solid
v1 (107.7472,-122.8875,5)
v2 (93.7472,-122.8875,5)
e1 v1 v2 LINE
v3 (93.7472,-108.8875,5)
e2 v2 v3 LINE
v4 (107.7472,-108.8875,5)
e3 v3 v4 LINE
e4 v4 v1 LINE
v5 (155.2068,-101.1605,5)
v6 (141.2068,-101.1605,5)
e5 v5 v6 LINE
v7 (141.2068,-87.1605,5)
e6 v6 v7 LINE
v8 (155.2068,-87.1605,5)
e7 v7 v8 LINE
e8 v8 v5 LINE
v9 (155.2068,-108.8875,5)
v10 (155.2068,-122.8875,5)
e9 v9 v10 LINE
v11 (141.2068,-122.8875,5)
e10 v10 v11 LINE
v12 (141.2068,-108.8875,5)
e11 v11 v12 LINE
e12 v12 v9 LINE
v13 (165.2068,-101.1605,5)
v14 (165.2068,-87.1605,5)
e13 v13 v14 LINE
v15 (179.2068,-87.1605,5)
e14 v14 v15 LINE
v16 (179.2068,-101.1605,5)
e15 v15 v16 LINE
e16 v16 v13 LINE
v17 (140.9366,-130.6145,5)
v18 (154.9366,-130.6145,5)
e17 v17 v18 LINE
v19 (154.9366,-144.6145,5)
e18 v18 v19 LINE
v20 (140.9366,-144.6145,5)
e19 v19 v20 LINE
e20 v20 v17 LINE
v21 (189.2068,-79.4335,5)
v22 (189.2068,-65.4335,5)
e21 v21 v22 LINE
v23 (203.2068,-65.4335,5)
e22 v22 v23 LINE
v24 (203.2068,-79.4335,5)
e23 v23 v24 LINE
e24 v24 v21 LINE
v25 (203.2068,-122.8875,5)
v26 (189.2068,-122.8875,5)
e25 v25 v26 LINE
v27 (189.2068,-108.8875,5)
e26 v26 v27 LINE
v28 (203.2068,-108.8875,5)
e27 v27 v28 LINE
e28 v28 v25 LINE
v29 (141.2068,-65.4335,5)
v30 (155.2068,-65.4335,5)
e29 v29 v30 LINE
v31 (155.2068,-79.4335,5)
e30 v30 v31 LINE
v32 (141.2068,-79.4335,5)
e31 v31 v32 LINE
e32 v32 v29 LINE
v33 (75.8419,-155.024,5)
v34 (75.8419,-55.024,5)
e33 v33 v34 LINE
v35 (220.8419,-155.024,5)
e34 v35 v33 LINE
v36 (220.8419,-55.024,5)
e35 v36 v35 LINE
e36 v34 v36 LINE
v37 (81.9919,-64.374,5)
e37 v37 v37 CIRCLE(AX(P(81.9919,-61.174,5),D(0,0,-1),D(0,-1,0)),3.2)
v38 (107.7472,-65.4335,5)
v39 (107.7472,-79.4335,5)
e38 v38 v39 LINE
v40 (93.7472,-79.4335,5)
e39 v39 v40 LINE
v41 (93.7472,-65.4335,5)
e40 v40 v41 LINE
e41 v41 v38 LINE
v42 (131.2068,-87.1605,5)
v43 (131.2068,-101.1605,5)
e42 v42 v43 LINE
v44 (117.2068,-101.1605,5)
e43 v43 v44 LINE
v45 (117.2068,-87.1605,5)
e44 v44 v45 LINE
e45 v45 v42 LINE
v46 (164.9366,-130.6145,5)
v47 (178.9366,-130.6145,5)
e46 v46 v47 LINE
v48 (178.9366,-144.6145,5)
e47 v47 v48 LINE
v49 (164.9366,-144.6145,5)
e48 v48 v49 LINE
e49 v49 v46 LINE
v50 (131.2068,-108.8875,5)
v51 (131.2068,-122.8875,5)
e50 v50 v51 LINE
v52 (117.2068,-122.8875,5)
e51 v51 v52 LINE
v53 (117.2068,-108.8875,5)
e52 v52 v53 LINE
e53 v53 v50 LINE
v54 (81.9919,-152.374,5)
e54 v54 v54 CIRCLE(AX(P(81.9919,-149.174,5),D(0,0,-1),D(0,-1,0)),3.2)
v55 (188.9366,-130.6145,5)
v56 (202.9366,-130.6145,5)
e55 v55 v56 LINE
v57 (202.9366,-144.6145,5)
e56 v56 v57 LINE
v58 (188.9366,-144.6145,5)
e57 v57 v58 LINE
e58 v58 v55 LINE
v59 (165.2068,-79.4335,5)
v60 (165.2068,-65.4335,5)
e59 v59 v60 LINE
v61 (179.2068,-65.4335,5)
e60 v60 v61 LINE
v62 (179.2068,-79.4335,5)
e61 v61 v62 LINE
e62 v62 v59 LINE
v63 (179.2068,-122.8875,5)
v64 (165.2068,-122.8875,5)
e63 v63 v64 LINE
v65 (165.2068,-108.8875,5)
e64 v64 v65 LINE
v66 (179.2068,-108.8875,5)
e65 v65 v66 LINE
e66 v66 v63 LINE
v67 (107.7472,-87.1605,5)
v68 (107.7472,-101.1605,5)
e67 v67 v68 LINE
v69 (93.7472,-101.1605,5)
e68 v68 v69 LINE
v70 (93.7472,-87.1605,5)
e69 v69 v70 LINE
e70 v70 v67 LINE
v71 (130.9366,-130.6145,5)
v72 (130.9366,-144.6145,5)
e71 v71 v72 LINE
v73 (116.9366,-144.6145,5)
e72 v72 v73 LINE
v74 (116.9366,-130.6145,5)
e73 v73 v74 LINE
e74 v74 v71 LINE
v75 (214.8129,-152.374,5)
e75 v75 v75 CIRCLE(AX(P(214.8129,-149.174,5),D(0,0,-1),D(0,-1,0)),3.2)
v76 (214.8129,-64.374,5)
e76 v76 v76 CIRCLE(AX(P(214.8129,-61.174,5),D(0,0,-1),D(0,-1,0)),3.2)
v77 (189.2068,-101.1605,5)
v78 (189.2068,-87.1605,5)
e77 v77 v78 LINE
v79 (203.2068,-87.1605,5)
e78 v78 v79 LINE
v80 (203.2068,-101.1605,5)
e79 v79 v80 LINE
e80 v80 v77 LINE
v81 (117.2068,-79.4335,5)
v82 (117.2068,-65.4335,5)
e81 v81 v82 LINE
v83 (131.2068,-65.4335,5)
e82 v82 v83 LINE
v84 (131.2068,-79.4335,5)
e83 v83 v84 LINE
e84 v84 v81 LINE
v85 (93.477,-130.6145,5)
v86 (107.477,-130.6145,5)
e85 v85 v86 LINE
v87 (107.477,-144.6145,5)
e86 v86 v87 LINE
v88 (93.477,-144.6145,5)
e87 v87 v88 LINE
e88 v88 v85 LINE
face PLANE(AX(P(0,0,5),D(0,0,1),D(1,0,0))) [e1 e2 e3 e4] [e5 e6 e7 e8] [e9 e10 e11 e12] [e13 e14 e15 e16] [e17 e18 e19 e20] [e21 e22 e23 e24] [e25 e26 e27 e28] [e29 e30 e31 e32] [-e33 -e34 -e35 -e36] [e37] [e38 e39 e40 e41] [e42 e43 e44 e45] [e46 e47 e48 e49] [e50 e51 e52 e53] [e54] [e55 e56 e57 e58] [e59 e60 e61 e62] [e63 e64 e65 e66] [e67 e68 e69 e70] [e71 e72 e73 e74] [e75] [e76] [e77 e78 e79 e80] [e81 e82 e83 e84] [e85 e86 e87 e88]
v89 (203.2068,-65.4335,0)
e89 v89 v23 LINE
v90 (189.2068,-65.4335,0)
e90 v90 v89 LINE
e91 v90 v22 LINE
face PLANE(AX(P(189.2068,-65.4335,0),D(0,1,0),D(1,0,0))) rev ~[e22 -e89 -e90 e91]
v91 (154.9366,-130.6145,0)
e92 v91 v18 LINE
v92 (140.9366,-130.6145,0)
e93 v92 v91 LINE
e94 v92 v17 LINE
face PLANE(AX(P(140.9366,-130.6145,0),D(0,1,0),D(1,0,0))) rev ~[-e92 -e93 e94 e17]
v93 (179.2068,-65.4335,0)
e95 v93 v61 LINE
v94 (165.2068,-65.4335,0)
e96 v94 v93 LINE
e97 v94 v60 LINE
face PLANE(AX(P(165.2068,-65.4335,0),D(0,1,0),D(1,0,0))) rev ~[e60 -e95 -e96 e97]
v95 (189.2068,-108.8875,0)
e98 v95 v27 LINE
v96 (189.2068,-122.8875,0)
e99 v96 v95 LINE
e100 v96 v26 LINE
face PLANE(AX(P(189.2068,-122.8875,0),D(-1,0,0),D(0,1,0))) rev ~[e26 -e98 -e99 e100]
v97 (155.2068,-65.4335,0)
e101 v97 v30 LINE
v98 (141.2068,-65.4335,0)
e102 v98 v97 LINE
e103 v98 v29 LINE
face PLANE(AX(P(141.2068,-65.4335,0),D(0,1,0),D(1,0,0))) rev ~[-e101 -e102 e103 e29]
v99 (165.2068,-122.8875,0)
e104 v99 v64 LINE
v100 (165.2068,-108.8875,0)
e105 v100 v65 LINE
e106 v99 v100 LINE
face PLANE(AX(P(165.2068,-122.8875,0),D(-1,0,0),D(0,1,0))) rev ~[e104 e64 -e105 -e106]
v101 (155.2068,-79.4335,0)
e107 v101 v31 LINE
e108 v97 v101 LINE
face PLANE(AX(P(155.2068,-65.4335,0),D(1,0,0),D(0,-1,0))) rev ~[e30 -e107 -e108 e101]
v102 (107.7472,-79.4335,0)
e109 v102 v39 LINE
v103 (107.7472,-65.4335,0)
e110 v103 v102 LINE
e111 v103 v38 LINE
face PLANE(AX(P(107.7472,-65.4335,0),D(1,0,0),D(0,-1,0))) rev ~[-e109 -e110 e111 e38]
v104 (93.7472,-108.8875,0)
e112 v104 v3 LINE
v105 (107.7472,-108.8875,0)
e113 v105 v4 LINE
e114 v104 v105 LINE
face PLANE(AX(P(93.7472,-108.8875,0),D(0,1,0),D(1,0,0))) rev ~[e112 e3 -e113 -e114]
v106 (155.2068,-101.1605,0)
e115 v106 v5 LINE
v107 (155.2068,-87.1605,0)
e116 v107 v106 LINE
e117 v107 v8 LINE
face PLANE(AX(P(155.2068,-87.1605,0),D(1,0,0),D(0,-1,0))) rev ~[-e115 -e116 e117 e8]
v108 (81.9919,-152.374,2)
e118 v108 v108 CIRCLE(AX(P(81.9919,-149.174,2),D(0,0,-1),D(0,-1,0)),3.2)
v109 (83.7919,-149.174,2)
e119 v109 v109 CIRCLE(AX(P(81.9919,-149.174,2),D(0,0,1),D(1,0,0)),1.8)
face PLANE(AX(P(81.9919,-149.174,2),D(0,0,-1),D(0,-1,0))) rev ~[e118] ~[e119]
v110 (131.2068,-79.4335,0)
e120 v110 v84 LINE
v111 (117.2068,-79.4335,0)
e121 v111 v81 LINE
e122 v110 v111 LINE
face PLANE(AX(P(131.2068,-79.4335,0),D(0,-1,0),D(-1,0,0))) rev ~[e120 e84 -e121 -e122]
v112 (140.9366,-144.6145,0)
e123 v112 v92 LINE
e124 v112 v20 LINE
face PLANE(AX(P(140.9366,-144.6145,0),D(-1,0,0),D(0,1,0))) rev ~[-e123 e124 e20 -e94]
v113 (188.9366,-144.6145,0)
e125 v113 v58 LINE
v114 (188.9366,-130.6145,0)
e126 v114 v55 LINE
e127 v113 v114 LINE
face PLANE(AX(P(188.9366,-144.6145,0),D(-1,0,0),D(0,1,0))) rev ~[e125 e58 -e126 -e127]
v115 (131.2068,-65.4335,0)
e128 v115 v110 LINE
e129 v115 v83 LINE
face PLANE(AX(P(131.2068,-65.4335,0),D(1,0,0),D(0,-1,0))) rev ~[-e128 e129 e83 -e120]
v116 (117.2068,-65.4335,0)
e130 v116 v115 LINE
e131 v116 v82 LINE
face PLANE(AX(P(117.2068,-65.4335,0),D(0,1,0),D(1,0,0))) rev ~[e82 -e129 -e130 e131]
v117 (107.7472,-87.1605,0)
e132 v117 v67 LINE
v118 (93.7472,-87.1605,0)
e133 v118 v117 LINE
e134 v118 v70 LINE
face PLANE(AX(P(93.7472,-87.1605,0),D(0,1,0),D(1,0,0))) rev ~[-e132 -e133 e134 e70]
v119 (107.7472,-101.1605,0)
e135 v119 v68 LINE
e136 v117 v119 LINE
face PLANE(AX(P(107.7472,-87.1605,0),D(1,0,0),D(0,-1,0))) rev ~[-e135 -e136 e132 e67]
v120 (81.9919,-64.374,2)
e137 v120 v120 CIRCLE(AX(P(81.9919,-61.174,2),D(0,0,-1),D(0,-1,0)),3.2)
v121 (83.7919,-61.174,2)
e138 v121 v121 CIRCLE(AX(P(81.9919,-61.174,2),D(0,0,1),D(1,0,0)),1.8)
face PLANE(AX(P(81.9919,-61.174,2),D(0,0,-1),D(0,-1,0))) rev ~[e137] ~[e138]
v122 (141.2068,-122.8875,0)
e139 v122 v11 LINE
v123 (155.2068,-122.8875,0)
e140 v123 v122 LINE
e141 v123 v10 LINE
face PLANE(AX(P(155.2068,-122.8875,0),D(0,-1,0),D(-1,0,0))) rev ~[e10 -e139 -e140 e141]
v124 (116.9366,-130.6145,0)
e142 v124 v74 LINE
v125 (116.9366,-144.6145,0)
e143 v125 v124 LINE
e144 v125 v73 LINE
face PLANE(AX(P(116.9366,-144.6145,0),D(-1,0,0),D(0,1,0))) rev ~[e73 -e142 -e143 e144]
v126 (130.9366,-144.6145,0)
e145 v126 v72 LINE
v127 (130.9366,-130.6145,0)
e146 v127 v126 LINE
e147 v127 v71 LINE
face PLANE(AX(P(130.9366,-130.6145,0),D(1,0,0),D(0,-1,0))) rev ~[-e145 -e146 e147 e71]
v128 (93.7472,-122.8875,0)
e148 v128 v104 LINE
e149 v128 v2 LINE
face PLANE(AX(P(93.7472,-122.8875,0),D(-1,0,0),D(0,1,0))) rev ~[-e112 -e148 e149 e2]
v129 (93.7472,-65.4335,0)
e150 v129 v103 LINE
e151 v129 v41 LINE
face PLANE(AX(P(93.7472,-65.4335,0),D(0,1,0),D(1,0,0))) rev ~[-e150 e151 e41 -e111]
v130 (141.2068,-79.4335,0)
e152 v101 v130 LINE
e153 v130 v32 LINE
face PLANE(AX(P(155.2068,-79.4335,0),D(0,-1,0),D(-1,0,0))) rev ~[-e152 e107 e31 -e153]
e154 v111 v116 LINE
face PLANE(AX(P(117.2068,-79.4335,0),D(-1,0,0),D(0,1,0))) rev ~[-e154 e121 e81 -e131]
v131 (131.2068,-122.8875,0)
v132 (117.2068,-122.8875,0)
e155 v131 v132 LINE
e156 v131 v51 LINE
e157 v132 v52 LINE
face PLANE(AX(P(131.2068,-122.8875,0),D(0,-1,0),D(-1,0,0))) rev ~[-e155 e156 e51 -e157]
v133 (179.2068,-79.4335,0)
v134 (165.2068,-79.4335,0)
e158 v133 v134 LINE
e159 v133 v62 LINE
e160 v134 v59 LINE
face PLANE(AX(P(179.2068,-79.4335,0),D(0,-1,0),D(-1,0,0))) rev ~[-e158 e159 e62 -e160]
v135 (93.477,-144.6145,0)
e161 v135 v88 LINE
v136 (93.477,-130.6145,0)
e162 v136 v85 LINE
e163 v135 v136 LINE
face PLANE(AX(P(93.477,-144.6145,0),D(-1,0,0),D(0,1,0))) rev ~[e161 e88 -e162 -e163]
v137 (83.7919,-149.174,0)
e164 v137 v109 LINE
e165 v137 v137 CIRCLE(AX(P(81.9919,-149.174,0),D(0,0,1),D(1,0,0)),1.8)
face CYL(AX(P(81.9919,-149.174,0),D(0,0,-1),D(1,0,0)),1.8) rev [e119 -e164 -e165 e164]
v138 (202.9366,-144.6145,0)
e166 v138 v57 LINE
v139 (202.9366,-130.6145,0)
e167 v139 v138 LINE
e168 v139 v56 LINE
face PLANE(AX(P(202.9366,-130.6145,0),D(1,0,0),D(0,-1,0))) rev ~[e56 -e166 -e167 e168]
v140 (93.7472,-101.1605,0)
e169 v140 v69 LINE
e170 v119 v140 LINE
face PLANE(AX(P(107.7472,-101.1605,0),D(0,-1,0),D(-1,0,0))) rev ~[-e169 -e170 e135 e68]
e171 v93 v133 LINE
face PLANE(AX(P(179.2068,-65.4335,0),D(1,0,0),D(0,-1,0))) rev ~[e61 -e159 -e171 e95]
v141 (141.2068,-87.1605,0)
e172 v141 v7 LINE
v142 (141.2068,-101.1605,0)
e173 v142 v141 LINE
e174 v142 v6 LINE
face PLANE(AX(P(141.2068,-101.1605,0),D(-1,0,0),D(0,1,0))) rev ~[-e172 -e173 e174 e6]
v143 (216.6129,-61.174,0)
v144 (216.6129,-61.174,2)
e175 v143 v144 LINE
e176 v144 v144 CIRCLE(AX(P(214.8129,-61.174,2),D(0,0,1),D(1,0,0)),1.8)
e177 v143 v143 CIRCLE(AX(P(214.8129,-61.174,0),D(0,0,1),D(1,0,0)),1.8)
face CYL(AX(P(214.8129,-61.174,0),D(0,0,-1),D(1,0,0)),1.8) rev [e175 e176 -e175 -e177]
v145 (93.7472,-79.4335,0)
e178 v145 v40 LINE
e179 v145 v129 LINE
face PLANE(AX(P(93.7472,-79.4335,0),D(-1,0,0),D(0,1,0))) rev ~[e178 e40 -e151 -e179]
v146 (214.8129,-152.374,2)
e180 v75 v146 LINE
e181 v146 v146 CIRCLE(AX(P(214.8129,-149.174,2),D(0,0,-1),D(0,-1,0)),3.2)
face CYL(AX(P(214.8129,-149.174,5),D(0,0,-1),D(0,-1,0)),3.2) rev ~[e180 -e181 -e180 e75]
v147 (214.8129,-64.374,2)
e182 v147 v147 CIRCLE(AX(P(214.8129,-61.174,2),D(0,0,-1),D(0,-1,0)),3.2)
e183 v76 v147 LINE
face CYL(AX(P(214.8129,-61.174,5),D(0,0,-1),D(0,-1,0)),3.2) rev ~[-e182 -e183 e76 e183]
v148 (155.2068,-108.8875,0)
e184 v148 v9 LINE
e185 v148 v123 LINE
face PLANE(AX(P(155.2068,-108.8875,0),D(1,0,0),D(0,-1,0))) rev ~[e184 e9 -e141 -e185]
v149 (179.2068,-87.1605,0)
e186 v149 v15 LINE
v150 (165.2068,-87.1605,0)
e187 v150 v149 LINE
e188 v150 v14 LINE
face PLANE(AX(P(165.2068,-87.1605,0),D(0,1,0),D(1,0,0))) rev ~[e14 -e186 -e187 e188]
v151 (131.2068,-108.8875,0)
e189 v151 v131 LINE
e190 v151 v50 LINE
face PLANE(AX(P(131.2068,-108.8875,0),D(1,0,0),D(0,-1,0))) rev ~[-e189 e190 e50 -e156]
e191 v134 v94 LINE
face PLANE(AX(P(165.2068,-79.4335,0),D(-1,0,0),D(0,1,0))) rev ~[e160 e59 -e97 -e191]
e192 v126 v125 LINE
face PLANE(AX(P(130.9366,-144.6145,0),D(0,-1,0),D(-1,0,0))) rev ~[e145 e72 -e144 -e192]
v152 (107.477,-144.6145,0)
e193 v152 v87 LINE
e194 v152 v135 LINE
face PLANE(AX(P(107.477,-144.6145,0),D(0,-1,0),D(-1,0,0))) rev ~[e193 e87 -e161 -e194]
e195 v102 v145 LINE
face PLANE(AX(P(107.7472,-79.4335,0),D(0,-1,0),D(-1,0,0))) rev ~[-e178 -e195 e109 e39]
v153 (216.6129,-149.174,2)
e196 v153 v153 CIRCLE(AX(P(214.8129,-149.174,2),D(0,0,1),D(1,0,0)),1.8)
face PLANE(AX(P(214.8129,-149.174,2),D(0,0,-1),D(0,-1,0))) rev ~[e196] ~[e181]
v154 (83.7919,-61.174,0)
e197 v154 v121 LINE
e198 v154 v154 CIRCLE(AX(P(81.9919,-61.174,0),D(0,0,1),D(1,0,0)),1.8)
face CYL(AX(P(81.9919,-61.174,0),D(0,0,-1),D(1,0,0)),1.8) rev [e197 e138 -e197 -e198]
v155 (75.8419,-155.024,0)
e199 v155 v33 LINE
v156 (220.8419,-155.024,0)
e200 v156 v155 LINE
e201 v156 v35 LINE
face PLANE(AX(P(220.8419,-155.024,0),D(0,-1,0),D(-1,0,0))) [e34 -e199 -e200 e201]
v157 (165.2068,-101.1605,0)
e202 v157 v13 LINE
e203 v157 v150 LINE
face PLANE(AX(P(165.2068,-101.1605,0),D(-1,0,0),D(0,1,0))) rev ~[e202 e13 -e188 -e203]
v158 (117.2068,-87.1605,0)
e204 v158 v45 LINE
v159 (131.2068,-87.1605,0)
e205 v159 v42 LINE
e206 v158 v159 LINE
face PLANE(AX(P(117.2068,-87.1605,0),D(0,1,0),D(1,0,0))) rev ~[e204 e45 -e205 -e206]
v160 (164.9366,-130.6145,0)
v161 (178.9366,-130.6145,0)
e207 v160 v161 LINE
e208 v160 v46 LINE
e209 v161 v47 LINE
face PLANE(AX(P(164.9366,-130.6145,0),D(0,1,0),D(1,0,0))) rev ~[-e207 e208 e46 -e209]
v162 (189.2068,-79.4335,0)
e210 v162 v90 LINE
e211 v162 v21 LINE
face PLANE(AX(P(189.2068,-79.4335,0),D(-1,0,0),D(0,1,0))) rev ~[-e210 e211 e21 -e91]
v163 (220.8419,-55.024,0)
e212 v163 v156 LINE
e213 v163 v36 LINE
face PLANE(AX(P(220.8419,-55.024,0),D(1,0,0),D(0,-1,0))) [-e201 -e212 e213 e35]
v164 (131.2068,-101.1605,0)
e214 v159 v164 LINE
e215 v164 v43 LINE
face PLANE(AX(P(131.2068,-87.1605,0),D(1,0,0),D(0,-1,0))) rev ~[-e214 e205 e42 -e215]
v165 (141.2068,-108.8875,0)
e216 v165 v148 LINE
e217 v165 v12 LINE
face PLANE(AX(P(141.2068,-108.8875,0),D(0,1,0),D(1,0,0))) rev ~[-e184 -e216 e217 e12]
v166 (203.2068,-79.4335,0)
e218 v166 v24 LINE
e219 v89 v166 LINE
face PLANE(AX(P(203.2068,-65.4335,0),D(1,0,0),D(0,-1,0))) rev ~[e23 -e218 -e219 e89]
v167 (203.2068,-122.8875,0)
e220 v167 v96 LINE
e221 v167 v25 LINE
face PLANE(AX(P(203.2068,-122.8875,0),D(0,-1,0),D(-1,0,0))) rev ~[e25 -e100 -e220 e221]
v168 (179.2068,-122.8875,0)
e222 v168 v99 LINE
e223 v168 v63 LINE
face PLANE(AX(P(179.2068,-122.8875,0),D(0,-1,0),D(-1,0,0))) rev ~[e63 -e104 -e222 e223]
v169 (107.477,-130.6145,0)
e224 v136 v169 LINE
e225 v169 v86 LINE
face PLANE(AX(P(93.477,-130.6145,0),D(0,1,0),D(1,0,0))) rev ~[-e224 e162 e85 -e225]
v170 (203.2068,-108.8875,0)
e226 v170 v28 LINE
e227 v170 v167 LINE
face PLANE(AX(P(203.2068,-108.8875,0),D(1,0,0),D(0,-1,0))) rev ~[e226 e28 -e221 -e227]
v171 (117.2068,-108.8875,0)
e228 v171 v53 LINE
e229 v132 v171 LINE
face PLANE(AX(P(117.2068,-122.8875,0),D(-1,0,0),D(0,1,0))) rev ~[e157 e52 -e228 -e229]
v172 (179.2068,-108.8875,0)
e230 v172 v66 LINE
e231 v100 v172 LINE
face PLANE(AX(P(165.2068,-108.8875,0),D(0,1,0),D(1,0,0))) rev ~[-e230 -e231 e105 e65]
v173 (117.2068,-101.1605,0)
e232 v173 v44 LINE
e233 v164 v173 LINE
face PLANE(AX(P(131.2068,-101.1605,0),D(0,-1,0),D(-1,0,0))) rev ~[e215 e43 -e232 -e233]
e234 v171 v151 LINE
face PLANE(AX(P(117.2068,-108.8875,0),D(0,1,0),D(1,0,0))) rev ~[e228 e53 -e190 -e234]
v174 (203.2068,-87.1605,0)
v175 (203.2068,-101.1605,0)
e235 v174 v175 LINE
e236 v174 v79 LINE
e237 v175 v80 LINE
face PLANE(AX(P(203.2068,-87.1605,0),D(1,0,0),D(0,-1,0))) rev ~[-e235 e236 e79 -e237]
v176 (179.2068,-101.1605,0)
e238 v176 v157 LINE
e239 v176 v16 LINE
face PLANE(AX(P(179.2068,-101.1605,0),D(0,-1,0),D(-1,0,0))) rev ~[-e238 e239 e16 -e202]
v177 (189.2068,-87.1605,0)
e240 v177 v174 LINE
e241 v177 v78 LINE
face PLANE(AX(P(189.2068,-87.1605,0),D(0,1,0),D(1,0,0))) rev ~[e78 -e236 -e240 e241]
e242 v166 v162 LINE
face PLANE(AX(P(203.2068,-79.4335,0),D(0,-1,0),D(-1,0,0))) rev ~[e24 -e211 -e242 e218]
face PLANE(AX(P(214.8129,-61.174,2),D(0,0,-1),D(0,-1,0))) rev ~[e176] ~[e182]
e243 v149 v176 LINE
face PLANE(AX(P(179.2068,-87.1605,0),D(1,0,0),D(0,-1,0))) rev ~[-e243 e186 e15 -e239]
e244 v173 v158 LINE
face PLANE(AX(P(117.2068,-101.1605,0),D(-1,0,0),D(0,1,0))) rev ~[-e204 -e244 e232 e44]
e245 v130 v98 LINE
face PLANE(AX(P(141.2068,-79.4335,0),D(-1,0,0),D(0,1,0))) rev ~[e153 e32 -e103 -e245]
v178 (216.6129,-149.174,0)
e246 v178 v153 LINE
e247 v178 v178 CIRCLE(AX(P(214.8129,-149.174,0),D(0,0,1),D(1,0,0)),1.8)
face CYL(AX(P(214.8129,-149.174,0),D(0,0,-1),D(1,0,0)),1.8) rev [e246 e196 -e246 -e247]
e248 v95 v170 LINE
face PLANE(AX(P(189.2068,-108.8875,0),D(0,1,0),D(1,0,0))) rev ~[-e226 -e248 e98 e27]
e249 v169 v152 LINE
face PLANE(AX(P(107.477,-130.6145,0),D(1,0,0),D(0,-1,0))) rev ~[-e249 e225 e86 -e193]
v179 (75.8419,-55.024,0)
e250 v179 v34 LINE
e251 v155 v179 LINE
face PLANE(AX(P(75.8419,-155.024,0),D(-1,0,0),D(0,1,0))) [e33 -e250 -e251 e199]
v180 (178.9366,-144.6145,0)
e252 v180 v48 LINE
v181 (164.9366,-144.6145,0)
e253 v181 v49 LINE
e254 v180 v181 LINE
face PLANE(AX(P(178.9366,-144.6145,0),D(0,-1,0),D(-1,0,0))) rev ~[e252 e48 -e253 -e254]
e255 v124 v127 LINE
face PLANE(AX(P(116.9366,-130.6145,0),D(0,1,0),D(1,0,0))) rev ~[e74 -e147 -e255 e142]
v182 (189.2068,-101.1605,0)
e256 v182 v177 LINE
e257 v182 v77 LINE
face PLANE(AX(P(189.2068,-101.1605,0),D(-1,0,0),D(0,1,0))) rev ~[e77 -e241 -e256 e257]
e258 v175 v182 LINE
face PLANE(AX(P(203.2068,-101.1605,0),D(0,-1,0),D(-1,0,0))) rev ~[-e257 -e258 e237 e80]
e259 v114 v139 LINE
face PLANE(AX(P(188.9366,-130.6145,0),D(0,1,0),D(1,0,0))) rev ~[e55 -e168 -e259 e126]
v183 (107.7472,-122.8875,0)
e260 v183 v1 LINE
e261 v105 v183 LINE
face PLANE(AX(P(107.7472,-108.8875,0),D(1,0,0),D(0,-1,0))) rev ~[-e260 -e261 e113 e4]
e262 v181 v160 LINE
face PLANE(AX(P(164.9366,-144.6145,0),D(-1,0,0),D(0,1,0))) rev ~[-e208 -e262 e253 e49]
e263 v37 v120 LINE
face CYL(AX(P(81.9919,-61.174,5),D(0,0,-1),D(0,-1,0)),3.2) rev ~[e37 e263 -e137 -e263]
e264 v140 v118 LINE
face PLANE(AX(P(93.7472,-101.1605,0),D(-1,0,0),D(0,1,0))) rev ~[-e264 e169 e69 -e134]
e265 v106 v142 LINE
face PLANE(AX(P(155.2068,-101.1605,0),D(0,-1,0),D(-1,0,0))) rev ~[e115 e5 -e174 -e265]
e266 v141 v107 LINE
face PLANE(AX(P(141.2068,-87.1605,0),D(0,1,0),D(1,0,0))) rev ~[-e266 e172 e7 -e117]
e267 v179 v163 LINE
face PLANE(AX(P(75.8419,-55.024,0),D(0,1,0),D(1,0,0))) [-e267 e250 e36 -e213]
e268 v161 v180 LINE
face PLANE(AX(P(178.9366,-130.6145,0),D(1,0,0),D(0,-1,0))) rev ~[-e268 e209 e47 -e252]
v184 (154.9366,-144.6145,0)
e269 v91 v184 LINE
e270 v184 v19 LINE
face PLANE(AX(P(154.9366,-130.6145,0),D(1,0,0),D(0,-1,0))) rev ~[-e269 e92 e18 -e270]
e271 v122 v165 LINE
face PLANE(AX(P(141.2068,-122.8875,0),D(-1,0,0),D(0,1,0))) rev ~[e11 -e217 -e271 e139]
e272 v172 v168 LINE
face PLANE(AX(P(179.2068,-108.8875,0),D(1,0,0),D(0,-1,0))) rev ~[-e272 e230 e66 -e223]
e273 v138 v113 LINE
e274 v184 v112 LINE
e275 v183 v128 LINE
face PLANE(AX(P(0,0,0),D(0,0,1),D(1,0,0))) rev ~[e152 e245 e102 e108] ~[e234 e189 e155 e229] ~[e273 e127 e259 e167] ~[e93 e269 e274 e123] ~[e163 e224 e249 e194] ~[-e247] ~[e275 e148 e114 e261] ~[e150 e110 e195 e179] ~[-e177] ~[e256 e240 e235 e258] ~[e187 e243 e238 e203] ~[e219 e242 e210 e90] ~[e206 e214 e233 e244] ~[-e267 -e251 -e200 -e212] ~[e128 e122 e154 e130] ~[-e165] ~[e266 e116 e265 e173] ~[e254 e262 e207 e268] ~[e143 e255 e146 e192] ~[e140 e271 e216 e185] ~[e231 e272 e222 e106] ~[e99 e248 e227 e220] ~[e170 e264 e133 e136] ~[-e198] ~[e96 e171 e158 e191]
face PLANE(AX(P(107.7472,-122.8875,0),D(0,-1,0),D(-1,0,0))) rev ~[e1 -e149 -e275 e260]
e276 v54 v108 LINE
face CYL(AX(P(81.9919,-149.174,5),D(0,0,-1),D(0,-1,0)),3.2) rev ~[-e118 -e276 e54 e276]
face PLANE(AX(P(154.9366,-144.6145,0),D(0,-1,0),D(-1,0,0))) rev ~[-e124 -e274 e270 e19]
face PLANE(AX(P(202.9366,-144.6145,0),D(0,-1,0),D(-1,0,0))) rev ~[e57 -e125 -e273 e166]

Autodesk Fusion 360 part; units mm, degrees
sketch "Esquisse1" plane through (0, 0, 0) normal (0, 0, 1) x (1, 0, 0)
  line L0 (0.1341, -76.3658) -> (64.4137, -0.1129)
  line L1 (64.4137, -0.1129) -> (129.0708, -76.1647)
  line L2 (129.0708, -76.1647) -> (129.0708, -86.1624)
  line L3 (0.1341, -76.133) -> (11.9451, -86.0425)
  line L4 (129.2084, -85.9931) -> (11.8004, -85.9931)
sketch "Esquisse2" plane through (-56.9768, 0, 48.0303) normal (-0.7646, 0, 0.6445) x (0, -1, 0)
  line L0 (-20.1587, 188.3406) -> (-20.1587, 88.7874)
  line L1 (-20.1587, 88.7874) -> (127.8413, 88.7874)
  line L2 (127.8413, 88.7874) -> (127.8413, 188.3406)
  line L3 (127.8413, 188.3406) -> (-20.1587, 188.3406)
  line L4 (-18.8236, 187.8236) -> (126.1751, 187.8236)
  line L5 (126.1751, 187.8236) -> (126.1751, 87.8252)
  line L6 (126.1751, 87.8252) -> (-18.8236, 87.8252)
  line L7 (-18.8236, 87.8252) -> (-18.8236, 187.8236)
  line L8 (-3.8235, 175.0777) -> (11.1766, 175.0777)
  line L9 (11.1766, 175.0777) -> (11.1766, 160.0776)
  line L10 (11.1766, 160.0776) -> (-3.8235, 160.0776)
  line L11 (-3.8235, 160.0776) -> (-3.8235, 175.0777)
  line L12 (21.1779, 175.0777) -> (36.178, 175.0777)
  line L13 (36.178, 175.0777) -> (36.178, 160.0776)
  line L14 (36.178, 160.0776) -> (21.1779, 160.0776)
  line L15 (21.1779, 160.0776) -> (21.1779, 175.0777)
  line L16 (46.1757, 175.0777) -> (61.1758, 175.0777)
  line L17 (61.1758, 175.0777) -> (61.1758, 160.0776)
  line L18 (61.1758, 160.0776) -> (46.1757, 160.0776)
  line L19 (46.1757, 160.0776) -> (46.1757, 175.0777)
  line L20 (71.1771, 175.0777) -> (86.1772, 175.0777)
  line L21 (86.1772, 175.0777) -> (86.1772, 160.0776)
  line L22 (86.1772, 160.0776) -> (71.1771, 160.0776)
  line L23 (71.1771, 160.0776) -> (71.1771, 175.0777)
  line L24 (96.1749, 175.0777) -> (111.175, 175.0777)
  line L25 (111.175, 175.0777) -> (111.175, 160.0776)
  line L26 (111.175, 160.0776) -> (96.1749, 160.0776)
  line L27 (96.1749, 160.0776) -> (96.1749, 175.0777)
  line L28 (-3.8235, 155.1387) -> (11.1766, 155.1387)
  line L29 (11.1766, 155.1387) -> (11.1766, 140.1386)
  line L30 (11.1766, 140.1386) -> (-3.8235, 140.1386)
  line L31 (-3.8235, 140.1386) -> (-3.8235, 155.1387)
  line L32 (21.1779, 155.1387) -> (36.178, 155.1387)
  line L33 (36.178, 155.1387) -> (36.178, 140.1386)
  line L34 (36.178, 140.1386) -> (21.1779, 140.1386)
  line L35 (21.1779, 140.1386) -> (21.1779, 155.1387)
  line L36 (46.1757, 155.1387) -> (61.1758, 155.1387)
  line L37 (61.1758, 155.1387) -> (61.1758, 140.1386)
  line L38 (61.1758, 140.1386) -> (46.1757, 140.1386)
  line L39 (46.1757, 140.1386) -> (46.1757, 155.1387)
  line L40 (71.1771, 155.1387) -> (86.1772, 155.1387)
  line L41 (86.1772, 155.1387) -> (86.1772, 140.1386)
  line L42 (86.1772, 140.1386) -> (71.1771, 140.1386)
  line L43 (71.1771, 140.1386) -> (71.1771, 155.1387)
  line L44 (96.1749, 155.1387) -> (111.175, 155.1387)
  line L45 (111.175, 155.1387) -> (111.175, 140.1386)
  line L46 (111.175, 140.1386) -> (96.1749, 140.1386)
  line L47 (96.1749, 140.1386) -> (96.1749, 155.1387)
  line L48 (-3.8235, 135.1997) -> (11.1766, 135.1997)
  line L49 (11.1766, 135.1997) -> (11.1766, 120.1996)
  line L50 (11.1766, 120.1996) -> (-3.8235, 120.1996)
  line L51 (-3.8235, 120.1996) -> (-3.8235, 135.1997)
  line L52 (21.1779, 135.1997) -> (36.178, 135.1997)
  line L53 (36.178, 135.1997) -> (36.178, 120.1996)
  line L54 (36.178, 120.1996) -> (21.1779, 120.1996)
  line L55 (21.1779, 120.1996) -> (21.1779, 135.1997)
  line L56 (46.1757, 135.1997) -> (61.1758, 135.1997)
  line L57 (61.1758, 135.1997) -> (61.1758, 120.1996)
  line L58 (61.1758, 120.1996) -> (46.1757, 120.1996)
  line L59 (46.1757, 120.1996) -> (46.1757, 135.1997)
  line L60 (71.1771, 135.1997) -> (86.1772, 135.1997)
  line L61 (86.1772, 135.1997) -> (86.1772, 120.1996)
  line L62 (86.1772, 120.1996) -> (71.1771, 120.1996)
  line L63 (71.1771, 120.1996) -> (71.1771, 135.1997)
  line L64 (96.1749, 135.1997) -> (111.175, 135.1997)
  line L65 (111.175, 135.1997) -> (111.175, 120.1996)
  line L66 (111.175, 120.1996) -> (96.1749, 120.1996)
  line L67 (96.1749, 120.1996) -> (96.1749, 135.1997)
  line L68 (-3.8235, 115.2643) -> (11.1766, 115.2643)
  line L69 (11.1766, 115.2643) -> (11.1766, 100.2642)
  line L70 (11.1766, 100.2642) -> (-3.8235, 100.2642)
  line L71 (-3.8235, 100.2642) -> (-3.8235, 115.2643)
  line L72 (21.1779, 115.2643) -> (36.178, 115.2643)
  line L73 (36.178, 115.2643) -> (36.178, 100.2642)
  line L74 (36.178, 100.2642) -> (21.1779, 100.2642)
  line L75 (21.1779, 100.2642) -> (21.1779, 115.2643)
  line L76 (46.1757, 115.2643) -> (61.1758, 115.2643)
  line L77 (61.1758, 115.2643) -> (61.1758, 100.2642)
  line L78 (61.1758, 100.2642) -> (46.1757, 100.2642)
  line L79 (46.1757, 100.2642) -> (46.1757, 115.2643)
  line L80 (71.1771, 115.2643) -> (86.1772, 115.2643)
  line L81 (86.1772, 115.2643) -> (86.1772, 100.2642)
  line L82 (86.1772, 100.2642) -> (71.1771, 100.2642)
  line L83 (71.1771, 100.2642) -> (71.1771, 115.2643)
  line L84 (96.1749, 115.2643) -> (111.175, 115.2643)
  line L85 (111.175, 115.2643) -> (111.175, 100.2642)
  line L86 (111.175, 100.2642) -> (96.1749, 100.2642)
  line L87 (96.1749, 100.2642) -> (96.1749, 115.2643)
sketch "Esquisse3" plane through (0, -127.8413, 0) normal (0, -1, 0) x (1, 0, 0)
  line L0 (3.7755, 116.2201) -> (64.4218, 188.1629)
  line L1 (64.4218, 188.1629) -> (126.5708, 115.0612)
  line L2 (126.5708, 115.0612) -> (126.5708, 108.6519)
  line L3 (126.5708, 108.6519) -> (12.796, 108.6519)
  line L4 (12.796, 108.6519) -> (3.7755, 116.2201)
  line L5 (0.249, 115.9156) -> (11.8862, 106.1519)
  line L6 (11.8862, 106.1519) -> (129.0708, 106.1519)
  line L7 (129.0708, 106.1519) -> (129.0708, 115.9803)
  line L8 (129.0708, 115.9803) -> (64.4137, 192.0321)
  line L9 (64.4137, 192.0321) -> (0.249, 115.9156)
  line L10 (64.4137, 192.0321) -> (0.249, 115.9156)
  line L11 (11.8862, 106.1519) -> (129.0708, 106.1519)
  line L12 (129.0708, 115.9803) -> (64.4137, 192.0321)
sketch "Esquisse4" plane through (0, 0, 0) normal (0, 0, 1) x (1, 0, 0)
  line L0 (155.2068, -87.1605) -> (155.2068, -101.1605)
  line L1 (165.2068, -65.4335) -> (179.2068, -65.4335)
  line L2 (141.2068, -65.4335) -> (155.2068, -65.4335)
  line L3 (165.2068, -79.4335) -> (165.2068, -65.4335)
  line L4 (107.7472, -87.1605) -> (107.7472, -101.1605)
  line L5 (203.2068, -101.1605) -> (189.2068, -101.1605)
  line L6 (93.7472, -101.1605) -> (93.7472, -87.1605)
  line L7 (93.7472, -79.4335) -> (93.7472, -65.4335)
  line L8 (117.2068, -87.1605) -> (131.2068, -87.1605)
  line L9 (189.2068, -79.4335) -> (189.2068, -65.4335)
  line L10 (179.2068, -79.4335) -> (165.2068, -79.4335)
  line L11 (165.2068, -87.1605) -> (179.2068, -87.1605)
  line L12 (155.2068, -101.1605) -> (141.2068, -101.1605)
  line L13 (93.7472, -87.1605) -> (107.7472, -87.1605)
  line L14 (93.7472, -65.4335) -> (107.7472, -65.4335)
  line L15 (141.2068, -79.4335) -> (141.2068, -65.4335)
  line L16 (155.2068, -79.4335) -> (141.2068, -79.4335)
  line L17 (131.2068, -101.1605) -> (117.2068, -101.1605)
  line L18 (117.2068, -101.1605) -> (117.2068, -87.1605)
  line L19 (131.2068, -65.4335) -> (131.2068, -79.4335)
  line L20 (165.2068, -101.1605) -> (165.2068, -87.1605)
  line L21 (189.2068, -65.4335) -> (203.2068, -65.4335)
  line L22 (141.2068, -101.1605) -> (141.2068, -87.1605)
  line L23 (107.7472, -101.1605) -> (93.7472, -101.1605)
  line L24 (131.2068, -79.4335) -> (117.2068, -79.4335)
  line L25 (141.2068, -87.1605) -> (155.2068, -87.1605)
  line L26 (131.2068, -87.1605) -> (131.2068, -101.1605)
  line L27 (155.2068, -65.4335) -> (155.2068, -79.4335)
  line L28 (107.7472, -65.4335) -> (107.7472, -79.4335)
  line L29 (203.2068, -79.4335) -> (189.2068, -79.4335)
  line L30 (179.2068, -101.1605) -> (165.2068, -101.1605)
  line L31 (179.2068, -87.1605) -> (179.2068, -101.1605)
  line L32 (203.2068, -65.4335) -> (203.2068, -79.4335)
  line L33 (179.2068, -65.4335) -> (179.2068, -79.4335)
  line L34 (117.2068, -79.4335) -> (117.2068, -65.4335)
  circle A0 centre (81.9919, -61.174) radius 1.8
  line L35 (164.9366, -144.6145) -> (164.9366, -130.6145)
  line L36 (107.7472, -79.4335) -> (93.7472, -79.4335)
  line L37 (117.2068, -65.4335) -> (131.2068, -65.4335)
  line L38 (155.2068, -122.8875) -> (141.2068, -122.8875)
  line L39 (178.9366, -130.6145) -> (178.9366, -144.6145)
  line L40 (140.9366, -130.6145) -> (154.9366, -130.6145)
  circle A1 centre (81.9919, -149.174) radius 1.8
  line L41 (220.8419, -155.024) -> (75.8419, -155.024)
  line L42 (188.9366, -144.6145) -> (188.9366, -130.6145)
  line L43 (189.2068, -108.8875) -> (203.2068, -108.8875)
  line L44 (179.2068, -122.8875) -> (165.2068, -122.8875)
  line L45 (130.9366, -144.6145) -> (116.9366, -144.6145)
  line L46 (107.477, -144.6145) -> (93.477, -144.6145)
  line L47 (165.2068, -108.8875) -> (179.2068, -108.8875)
  line L48 (140.9366, -144.6145) -> (140.9366, -130.6145)
  line L49 (189.2068, -87.1605) -> (203.2068, -87.1605)
  line L50 (93.477, -144.6145) -> (93.477, -130.6145)
  line L51 (130.9366, -130.6145) -> (130.9366, -144.6145)
  line L52 (116.9366, -130.6145) -> (130.9366, -130.6145)
  line L53 (75.8419, -55.024) -> (220.8419, -55.024)
  line L54 (141.2068, -108.8875) -> (155.2068, -108.8875)
  line L55 (179.2068, -108.8875) -> (179.2068, -122.8875)
  line L56 (107.7472, -122.8875) -> (93.7472, -122.8875)
  line L57 (75.8419, -155.024) -> (75.8419, -55.024)
  line L58 (93.7472, -122.8875) -> (93.7472, -108.8875)
  line L59 (107.477, -130.6145) -> (107.477, -144.6145)
  line L60 (220.8419, -55.024) -> (220.8419, -155.024)
  line L61 (202.9366, -144.6145) -> (188.9366, -144.6145)
  line L62 (117.2068, -122.8875) -> (117.2068, -108.8875)
  line L63 (117.2068, -108.8875) -> (131.2068, -108.8875)
  line L64 (164.9366, -130.6145) -> (178.9366, -130.6145)
  line L65 (141.2068, -122.8875) -> (141.2068, -108.8875)
  line L66 (154.9366, -130.6145) -> (154.9366, -144.6145)
  line L67 (202.9366, -130.6145) -> (202.9366, -144.6145)
  circle A2 centre (214.8129, -61.174) radius 1.8
  line L68 (203.2068, -108.8875) -> (203.2068, -122.8875)
  line L69 (203.2068, -122.8875) -> (189.2068, -122.8875)
  line L70 (93.7472, -108.8875) -> (107.7472, -108.8875)
  circle A3 centre (214.8129, -149.174) radius 1.8
  line L71 (203.2068, -87.1605) -> (203.2068, -101.1605)
  line L72 (189.2068, -101.1605) -> (189.2068, -87.1605)
  line L73 (189.2068, -122.8875) -> (189.2068, -108.8875)
  line L74 (155.2068, -108.8875) -> (155.2068, -122.8875)
  line L75 (116.9366, -144.6145) -> (116.9366, -130.6145)
  line L76 (188.9366, -130.6145) -> (202.9366, -130.6145)
  line L77 (165.2068, -122.8875) -> (165.2068, -108.8875)
  line L78 (131.2068, -108.8875) -> (131.2068, -122.8875)
  line L79 (154.9366, -144.6145) -> (140.9366, -144.6145)
  line L80 (93.477, -130.6145) -> (107.477, -130.6145)
  line L81 (107.7472, -108.8875) -> (107.7472, -122.8875)
  line L82 (131.2068, -122.8875) -> (117.2068, -122.8875)
  line L83 (178.9366, -144.6145) -> (164.9366, -144.6145)
extrude "Extrusion4" add sketch "Esquisse4" along normal blind 5
hole "Perçage2" at (81.9919, -61.174, 5) direction (0, 0, -1) diameter 3.6 depth 25 tip angle 180 counterbore diameter 6.4 counterbore depth 3
hole "Perçage3" at (81.9919, -149.174, 5) direction (0, 0, -1) diameter 3.6 depth 25 tip angle 180 counterbore diameter 6.4 counterbore depth 3
hole "Perçage4" at (214.8129, -149.174, 5) direction (0, 0, -1) diameter 3.6 depth 25 tip angle 180 counterbore diameter 6.4 counterbore depth 3
hole "Perçage5" at (214.8129, -61.174, 5) direction (0, 0, -1) diameter 3.6 depth 25 tip angle 180 counterbore diameter 6.4 counterbore depth 3
